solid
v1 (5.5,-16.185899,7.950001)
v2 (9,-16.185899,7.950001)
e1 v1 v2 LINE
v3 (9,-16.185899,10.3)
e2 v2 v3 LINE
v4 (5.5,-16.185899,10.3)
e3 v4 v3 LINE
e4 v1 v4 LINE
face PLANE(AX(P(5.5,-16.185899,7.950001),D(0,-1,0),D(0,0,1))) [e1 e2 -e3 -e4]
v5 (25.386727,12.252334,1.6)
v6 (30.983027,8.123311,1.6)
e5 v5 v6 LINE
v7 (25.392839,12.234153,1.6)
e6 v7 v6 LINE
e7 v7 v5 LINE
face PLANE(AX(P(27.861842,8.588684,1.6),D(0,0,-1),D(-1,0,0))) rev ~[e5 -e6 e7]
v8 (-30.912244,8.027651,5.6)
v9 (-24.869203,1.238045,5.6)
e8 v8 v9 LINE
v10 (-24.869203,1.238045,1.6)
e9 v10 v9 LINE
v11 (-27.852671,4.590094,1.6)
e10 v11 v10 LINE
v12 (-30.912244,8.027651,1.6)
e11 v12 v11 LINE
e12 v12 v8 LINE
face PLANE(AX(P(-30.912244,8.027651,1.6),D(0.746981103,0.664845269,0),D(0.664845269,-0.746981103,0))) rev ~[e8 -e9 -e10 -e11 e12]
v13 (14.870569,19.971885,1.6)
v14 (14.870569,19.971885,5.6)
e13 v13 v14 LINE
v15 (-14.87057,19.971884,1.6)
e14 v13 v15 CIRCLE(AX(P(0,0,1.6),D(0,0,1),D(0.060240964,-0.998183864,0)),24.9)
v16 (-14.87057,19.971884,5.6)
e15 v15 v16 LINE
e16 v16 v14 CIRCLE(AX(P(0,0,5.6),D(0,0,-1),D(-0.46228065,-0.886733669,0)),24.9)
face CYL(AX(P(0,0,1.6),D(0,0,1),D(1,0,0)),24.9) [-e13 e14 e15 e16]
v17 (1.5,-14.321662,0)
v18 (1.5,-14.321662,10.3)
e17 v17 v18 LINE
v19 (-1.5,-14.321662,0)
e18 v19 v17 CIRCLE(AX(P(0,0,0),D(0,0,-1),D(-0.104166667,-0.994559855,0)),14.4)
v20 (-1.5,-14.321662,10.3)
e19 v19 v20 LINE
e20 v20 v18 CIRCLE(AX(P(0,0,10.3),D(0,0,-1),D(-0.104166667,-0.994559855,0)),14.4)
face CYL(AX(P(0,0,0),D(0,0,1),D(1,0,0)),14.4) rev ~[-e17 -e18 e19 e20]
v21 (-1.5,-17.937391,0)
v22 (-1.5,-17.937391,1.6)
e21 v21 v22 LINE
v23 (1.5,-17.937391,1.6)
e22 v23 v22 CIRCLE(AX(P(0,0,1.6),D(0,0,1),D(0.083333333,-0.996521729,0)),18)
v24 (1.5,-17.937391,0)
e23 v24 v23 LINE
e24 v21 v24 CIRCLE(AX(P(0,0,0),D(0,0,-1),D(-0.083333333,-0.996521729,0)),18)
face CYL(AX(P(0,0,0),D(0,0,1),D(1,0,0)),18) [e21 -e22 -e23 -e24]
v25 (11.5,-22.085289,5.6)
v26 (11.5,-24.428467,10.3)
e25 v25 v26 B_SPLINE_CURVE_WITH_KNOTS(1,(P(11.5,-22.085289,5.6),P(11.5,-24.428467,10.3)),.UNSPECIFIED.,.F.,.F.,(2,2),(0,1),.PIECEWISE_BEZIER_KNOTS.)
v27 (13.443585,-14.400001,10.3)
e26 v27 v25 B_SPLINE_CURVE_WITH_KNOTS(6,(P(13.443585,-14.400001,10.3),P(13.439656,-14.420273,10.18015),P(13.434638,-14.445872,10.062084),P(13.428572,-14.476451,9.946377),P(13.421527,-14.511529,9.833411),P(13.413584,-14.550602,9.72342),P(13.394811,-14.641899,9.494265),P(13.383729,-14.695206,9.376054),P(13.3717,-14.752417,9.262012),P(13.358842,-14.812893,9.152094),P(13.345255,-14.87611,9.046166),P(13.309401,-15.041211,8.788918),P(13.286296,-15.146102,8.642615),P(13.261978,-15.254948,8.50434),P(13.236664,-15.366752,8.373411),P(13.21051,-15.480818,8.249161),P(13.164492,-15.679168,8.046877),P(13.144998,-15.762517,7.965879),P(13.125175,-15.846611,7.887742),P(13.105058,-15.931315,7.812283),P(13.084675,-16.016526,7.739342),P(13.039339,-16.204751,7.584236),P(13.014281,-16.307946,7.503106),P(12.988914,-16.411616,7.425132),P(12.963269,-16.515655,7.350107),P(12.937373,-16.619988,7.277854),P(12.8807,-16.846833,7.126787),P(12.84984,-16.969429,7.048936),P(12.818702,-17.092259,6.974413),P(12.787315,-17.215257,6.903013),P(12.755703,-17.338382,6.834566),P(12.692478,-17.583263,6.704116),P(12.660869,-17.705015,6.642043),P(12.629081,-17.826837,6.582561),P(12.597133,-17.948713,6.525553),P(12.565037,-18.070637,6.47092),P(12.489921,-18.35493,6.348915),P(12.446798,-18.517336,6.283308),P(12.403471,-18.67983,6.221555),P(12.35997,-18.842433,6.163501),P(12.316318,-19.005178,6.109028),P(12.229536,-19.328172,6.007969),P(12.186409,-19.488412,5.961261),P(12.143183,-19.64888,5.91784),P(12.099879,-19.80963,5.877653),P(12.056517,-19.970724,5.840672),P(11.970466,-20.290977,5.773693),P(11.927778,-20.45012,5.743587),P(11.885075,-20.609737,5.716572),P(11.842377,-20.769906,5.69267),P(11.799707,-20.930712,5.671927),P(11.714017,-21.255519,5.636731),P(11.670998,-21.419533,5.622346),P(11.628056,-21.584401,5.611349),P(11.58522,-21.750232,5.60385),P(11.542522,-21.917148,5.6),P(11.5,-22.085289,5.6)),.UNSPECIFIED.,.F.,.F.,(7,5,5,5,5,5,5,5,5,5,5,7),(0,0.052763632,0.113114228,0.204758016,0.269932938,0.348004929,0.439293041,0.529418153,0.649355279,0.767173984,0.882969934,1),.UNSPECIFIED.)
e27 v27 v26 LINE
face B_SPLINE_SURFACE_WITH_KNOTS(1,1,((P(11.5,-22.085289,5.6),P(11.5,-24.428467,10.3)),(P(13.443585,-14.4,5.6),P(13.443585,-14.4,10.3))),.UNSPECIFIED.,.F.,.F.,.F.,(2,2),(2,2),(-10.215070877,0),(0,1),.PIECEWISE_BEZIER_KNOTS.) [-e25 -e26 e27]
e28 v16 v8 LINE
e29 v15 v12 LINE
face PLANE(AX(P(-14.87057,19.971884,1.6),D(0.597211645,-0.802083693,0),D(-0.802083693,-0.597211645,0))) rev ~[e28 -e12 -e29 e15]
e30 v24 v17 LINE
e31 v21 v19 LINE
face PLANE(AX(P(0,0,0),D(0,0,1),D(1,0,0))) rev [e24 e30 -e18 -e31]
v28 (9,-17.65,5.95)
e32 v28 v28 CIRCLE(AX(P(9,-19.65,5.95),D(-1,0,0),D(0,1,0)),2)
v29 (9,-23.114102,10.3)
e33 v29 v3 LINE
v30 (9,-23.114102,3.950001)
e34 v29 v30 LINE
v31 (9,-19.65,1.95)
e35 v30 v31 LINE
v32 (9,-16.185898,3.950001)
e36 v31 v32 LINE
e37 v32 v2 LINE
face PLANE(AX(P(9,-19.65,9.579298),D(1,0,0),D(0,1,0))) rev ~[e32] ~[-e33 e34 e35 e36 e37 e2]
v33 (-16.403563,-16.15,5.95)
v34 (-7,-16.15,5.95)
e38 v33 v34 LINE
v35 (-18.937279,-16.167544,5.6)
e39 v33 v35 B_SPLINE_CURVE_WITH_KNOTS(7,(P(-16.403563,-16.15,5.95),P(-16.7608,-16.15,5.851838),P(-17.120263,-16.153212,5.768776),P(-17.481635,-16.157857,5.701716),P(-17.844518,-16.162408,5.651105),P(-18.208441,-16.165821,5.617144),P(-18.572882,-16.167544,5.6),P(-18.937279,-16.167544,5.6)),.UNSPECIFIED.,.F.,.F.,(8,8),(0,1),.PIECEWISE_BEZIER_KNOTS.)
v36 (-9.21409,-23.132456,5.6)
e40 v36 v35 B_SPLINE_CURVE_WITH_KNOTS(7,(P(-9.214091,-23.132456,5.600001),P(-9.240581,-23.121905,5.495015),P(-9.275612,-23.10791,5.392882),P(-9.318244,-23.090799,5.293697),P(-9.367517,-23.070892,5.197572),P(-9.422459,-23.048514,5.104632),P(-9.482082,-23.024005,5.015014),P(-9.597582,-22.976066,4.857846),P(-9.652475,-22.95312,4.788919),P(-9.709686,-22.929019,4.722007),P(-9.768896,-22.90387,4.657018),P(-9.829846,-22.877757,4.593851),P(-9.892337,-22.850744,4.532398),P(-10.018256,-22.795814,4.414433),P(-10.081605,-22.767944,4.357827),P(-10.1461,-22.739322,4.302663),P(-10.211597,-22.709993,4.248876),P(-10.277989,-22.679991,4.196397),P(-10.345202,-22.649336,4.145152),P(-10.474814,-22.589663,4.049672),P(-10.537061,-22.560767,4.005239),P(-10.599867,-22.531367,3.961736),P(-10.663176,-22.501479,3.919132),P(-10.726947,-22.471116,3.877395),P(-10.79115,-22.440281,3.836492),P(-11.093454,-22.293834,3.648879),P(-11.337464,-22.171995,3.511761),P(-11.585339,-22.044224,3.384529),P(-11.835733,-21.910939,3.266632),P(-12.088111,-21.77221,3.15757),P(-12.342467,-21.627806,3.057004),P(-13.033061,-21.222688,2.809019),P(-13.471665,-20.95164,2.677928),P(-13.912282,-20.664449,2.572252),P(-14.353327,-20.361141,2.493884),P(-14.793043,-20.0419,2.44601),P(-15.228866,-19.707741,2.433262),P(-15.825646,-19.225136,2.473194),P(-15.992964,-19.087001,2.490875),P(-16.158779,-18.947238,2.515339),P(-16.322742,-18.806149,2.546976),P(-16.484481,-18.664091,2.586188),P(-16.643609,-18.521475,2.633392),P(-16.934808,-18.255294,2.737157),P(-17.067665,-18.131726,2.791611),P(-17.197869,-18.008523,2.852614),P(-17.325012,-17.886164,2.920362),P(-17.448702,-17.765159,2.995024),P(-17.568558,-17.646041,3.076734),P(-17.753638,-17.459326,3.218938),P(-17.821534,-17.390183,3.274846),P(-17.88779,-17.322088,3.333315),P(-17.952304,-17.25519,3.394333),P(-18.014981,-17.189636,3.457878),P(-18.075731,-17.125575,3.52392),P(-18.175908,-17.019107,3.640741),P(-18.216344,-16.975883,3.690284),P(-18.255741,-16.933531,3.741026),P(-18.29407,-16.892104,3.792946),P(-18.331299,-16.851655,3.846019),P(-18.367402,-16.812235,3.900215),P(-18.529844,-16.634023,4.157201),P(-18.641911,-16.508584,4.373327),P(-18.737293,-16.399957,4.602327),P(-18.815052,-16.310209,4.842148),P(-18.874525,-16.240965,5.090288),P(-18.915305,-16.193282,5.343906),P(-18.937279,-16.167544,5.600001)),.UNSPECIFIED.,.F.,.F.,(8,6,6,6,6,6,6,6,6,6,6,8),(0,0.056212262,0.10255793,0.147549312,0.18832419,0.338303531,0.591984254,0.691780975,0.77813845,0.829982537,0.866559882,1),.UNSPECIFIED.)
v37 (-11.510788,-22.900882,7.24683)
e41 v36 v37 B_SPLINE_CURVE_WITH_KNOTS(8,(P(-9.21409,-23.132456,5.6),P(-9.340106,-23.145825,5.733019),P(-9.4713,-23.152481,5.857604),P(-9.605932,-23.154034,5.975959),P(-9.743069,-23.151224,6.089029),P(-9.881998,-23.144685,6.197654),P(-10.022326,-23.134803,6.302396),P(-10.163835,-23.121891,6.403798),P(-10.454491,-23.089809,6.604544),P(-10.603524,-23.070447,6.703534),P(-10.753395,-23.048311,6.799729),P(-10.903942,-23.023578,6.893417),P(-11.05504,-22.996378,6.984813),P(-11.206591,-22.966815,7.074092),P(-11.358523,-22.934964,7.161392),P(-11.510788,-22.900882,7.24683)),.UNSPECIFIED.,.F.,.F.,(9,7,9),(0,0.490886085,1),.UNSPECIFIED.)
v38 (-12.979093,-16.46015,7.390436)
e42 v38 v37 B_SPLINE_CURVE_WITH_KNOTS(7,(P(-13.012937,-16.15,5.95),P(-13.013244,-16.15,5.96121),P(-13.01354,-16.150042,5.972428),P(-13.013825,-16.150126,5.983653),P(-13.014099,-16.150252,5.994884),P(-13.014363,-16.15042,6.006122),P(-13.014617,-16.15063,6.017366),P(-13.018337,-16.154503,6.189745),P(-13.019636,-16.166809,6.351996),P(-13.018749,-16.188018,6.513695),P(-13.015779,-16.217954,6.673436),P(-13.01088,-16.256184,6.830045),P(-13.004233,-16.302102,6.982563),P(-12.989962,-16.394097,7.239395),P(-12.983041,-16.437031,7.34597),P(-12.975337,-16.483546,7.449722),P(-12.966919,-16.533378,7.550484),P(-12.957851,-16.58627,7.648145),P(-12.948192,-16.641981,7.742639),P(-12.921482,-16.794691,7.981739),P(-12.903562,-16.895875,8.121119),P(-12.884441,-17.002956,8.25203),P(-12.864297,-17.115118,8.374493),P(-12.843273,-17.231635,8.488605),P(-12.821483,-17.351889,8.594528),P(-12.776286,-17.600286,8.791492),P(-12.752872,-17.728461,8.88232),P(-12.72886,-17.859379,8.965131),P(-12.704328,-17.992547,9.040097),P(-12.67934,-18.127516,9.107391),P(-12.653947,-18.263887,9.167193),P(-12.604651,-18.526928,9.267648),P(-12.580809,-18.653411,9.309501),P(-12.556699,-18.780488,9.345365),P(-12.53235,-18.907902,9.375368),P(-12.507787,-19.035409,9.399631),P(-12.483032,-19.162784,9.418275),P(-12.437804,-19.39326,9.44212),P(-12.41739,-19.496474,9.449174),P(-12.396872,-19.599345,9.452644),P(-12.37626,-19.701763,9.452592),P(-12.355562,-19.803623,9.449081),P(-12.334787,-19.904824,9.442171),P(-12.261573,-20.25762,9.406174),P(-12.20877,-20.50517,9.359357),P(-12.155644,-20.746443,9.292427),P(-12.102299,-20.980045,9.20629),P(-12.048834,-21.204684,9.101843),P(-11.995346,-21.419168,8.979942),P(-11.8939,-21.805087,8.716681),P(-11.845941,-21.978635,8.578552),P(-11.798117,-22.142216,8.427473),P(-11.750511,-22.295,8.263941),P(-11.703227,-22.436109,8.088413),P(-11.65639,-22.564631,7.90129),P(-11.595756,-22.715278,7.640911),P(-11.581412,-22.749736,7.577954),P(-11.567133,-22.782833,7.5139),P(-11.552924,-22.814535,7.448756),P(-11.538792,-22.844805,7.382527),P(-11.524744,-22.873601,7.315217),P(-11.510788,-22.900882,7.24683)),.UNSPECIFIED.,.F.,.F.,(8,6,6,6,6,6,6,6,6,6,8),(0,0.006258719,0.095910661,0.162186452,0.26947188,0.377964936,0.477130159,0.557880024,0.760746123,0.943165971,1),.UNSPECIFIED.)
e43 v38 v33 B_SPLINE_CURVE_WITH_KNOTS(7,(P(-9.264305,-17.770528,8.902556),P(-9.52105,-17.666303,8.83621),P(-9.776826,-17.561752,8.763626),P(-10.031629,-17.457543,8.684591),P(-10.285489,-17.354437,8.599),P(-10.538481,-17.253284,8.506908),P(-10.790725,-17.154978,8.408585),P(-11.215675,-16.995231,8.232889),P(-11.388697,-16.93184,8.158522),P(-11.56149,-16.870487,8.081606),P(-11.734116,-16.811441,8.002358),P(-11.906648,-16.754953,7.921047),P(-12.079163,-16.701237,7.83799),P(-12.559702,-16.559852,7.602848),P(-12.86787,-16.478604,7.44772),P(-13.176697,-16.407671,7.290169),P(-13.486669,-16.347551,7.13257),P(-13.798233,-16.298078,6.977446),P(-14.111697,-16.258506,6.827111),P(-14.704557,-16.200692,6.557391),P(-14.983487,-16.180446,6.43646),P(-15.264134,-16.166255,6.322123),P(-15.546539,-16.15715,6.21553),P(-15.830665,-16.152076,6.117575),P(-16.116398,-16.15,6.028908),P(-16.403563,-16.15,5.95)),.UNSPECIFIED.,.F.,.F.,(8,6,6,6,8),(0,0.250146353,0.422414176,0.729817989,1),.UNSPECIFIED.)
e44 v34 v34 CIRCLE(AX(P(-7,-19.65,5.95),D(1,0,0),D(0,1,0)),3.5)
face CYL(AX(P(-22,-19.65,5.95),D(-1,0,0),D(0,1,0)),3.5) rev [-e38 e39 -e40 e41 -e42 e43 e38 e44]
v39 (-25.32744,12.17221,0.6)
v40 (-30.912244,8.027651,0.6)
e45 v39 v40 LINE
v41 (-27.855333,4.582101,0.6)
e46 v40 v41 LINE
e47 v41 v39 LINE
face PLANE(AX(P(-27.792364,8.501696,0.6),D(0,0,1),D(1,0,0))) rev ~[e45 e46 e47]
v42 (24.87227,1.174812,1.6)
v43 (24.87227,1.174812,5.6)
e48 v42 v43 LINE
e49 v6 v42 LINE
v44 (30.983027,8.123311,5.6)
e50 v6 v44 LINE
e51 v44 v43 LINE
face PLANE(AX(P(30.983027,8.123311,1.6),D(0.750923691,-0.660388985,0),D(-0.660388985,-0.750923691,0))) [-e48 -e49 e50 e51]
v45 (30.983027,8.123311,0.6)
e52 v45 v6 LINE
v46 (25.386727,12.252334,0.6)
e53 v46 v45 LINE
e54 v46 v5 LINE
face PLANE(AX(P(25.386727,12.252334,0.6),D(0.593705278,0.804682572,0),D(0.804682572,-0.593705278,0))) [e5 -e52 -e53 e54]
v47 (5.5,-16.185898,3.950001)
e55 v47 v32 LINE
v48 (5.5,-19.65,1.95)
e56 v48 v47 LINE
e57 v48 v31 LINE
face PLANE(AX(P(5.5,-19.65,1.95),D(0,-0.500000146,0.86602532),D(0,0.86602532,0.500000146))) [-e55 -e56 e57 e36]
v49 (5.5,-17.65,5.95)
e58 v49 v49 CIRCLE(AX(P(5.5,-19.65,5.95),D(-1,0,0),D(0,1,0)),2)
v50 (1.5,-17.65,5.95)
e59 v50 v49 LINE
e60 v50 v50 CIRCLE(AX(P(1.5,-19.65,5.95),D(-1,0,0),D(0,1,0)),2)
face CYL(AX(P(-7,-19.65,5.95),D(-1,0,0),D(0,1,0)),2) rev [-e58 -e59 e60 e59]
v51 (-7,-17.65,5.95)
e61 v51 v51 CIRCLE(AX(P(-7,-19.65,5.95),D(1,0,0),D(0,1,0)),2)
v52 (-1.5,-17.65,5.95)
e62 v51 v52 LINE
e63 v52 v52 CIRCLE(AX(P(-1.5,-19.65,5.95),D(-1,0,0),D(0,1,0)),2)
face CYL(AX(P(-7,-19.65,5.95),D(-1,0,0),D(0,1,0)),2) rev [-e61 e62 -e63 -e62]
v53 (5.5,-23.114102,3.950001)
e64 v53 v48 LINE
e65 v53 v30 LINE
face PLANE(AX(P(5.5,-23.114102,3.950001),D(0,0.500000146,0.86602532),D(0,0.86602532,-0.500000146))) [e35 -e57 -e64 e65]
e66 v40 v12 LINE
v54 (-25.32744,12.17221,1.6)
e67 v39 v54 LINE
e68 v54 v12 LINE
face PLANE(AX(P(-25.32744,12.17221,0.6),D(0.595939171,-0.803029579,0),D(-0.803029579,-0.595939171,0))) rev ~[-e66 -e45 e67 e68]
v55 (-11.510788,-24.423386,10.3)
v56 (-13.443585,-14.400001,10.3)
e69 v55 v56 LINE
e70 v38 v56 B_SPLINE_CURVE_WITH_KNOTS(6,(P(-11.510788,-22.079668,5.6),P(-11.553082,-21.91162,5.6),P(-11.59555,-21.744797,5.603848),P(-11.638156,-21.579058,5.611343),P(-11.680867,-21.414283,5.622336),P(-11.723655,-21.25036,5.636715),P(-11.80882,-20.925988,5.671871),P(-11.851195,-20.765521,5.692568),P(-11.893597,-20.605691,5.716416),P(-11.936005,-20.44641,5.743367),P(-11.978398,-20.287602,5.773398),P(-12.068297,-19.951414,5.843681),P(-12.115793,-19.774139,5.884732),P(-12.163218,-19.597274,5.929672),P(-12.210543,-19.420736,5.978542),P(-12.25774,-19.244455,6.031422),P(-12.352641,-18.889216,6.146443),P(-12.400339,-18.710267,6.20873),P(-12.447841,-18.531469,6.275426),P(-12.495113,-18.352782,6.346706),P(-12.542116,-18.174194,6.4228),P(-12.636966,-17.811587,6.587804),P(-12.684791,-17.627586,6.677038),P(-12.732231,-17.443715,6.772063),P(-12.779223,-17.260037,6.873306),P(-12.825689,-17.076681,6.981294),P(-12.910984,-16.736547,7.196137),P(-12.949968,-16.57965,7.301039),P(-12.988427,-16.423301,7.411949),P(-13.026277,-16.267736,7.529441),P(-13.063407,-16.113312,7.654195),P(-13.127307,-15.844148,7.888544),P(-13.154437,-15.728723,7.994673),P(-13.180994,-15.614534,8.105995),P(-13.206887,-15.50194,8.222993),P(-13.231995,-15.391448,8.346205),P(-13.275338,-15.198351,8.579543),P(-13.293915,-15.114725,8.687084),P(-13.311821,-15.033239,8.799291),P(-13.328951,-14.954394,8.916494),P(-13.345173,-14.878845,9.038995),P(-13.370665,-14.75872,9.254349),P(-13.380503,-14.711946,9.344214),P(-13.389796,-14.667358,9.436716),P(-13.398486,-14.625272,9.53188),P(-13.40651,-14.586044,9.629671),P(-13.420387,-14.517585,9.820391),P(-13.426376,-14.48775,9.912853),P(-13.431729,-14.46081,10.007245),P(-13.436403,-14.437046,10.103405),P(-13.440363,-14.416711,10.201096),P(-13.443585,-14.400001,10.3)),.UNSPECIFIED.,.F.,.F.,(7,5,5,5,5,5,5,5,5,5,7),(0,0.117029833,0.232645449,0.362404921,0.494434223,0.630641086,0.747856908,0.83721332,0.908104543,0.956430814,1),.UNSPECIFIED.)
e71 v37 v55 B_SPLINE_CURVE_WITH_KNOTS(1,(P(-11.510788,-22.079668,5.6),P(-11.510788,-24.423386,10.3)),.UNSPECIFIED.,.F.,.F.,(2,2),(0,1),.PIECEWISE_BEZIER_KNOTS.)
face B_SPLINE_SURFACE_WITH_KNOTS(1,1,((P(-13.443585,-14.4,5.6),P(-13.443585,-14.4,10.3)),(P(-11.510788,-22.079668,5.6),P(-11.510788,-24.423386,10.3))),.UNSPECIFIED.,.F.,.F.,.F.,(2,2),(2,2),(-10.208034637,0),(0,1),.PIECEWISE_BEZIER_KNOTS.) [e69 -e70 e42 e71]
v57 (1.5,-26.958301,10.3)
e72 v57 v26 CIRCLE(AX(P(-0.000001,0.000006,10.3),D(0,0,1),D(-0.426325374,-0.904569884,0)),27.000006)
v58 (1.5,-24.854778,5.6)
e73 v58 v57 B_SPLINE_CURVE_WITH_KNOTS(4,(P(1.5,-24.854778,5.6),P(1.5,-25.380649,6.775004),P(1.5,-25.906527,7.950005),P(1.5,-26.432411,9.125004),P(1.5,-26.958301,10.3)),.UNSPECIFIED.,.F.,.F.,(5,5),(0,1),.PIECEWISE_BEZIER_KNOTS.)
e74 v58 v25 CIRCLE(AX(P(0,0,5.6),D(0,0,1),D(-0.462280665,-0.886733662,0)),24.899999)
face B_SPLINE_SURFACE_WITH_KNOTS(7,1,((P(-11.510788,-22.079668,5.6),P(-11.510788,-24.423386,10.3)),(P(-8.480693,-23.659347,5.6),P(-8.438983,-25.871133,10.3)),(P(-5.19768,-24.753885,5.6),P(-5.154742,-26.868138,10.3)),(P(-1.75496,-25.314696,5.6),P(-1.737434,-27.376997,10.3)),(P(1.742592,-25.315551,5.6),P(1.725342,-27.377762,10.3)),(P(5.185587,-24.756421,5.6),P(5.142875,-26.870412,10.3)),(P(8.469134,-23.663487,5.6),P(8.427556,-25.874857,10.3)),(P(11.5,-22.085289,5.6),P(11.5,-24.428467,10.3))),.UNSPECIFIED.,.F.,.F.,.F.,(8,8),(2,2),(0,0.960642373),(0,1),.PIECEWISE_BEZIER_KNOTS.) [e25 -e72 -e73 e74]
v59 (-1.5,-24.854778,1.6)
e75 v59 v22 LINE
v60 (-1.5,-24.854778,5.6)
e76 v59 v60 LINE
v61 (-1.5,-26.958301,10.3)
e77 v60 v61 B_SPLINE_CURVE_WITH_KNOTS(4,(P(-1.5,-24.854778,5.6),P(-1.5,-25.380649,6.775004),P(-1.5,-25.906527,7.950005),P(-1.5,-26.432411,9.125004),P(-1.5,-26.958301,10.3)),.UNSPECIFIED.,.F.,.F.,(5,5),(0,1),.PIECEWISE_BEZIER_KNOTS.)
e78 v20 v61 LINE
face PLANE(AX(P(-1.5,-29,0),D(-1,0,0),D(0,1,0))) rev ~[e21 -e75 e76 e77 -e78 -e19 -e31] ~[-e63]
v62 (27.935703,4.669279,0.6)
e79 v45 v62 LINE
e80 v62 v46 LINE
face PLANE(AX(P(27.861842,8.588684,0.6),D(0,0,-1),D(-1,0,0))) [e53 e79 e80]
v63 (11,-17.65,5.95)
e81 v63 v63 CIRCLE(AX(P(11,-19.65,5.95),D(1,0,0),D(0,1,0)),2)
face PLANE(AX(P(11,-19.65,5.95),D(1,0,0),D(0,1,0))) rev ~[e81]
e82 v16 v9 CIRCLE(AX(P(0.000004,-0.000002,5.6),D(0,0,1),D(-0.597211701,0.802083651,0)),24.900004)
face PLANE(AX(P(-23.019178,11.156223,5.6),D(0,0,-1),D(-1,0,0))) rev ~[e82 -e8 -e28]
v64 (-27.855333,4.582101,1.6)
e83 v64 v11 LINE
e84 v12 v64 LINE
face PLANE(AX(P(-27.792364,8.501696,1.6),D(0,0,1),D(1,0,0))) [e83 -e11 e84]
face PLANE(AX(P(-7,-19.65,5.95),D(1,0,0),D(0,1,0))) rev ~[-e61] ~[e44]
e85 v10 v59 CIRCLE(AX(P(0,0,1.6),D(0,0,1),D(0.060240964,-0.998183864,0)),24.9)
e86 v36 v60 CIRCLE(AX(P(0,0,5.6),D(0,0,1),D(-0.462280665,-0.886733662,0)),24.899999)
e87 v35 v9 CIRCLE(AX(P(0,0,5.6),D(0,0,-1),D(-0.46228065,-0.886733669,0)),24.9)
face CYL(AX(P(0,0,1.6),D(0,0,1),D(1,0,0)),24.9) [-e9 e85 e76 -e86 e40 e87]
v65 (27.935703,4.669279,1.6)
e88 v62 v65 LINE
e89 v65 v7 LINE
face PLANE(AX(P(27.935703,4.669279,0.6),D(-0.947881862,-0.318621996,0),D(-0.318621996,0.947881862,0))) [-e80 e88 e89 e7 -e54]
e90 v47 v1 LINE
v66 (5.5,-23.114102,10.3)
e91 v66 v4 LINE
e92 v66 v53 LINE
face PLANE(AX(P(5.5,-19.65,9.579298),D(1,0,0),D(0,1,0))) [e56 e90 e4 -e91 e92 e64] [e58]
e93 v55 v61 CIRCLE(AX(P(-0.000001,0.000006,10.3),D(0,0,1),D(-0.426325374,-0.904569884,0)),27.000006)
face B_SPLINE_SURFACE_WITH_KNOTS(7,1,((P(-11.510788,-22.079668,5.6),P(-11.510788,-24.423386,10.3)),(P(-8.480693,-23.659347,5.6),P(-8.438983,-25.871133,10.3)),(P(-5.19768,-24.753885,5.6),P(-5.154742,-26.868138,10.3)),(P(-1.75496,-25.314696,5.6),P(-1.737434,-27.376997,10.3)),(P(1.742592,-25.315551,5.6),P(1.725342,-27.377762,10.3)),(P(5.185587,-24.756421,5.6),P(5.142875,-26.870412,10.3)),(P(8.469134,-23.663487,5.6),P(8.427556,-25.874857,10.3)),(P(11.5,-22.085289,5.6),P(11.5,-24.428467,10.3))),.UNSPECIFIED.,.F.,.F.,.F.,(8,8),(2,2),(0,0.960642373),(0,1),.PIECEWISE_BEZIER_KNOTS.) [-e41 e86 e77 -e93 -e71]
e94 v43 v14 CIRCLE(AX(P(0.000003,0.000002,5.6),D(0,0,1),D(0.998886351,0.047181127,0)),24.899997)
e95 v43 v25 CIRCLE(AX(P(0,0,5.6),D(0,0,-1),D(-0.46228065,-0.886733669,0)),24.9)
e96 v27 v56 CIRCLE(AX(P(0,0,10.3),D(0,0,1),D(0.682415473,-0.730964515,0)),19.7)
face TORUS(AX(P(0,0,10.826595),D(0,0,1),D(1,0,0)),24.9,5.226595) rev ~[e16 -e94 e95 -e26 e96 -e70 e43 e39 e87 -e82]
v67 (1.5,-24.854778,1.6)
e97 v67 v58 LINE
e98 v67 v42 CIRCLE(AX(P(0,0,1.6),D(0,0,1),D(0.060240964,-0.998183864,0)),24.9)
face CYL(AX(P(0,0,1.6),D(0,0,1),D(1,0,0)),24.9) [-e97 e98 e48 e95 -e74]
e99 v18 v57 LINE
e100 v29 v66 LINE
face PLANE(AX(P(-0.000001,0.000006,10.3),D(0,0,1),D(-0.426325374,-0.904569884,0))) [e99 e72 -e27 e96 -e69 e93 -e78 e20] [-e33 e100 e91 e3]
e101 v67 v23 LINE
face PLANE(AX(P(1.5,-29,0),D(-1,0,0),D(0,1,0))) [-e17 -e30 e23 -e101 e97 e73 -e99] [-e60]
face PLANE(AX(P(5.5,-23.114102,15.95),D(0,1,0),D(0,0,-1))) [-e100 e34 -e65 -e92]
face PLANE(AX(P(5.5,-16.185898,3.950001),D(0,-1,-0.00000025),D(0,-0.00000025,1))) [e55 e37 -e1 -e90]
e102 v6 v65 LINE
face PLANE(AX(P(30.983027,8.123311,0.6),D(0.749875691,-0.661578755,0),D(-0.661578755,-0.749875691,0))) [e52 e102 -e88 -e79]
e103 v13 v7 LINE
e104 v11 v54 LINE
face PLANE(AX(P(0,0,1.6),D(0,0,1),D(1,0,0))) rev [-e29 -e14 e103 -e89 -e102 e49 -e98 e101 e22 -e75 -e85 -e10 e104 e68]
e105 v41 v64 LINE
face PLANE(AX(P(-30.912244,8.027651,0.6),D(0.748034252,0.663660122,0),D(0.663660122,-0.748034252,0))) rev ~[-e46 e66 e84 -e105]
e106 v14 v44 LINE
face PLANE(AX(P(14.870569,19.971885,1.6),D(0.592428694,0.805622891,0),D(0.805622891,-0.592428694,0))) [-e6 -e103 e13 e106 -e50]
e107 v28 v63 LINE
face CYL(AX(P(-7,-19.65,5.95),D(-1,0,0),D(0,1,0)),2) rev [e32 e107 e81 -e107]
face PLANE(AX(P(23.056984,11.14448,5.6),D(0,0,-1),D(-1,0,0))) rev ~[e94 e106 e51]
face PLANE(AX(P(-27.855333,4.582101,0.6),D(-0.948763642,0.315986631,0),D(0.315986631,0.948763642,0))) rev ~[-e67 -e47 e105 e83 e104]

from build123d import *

# Parameters (mm, degrees)
SKETCH003_W     = 3
SKETCH003_H     = 17
POCKET_DEPTH    = 11
SKETCH004_R     = 3.5
POCKET001_DEPTH = 15
SKETCH005_R     = 2
POCKET002_DEPTH = 18
POCKET003_DEPTH = 3.5
PAD_DEPTH       = 4
PAD001_DEPTH    = 1


with BuildPart() as part:
    # Sketch → Revolution (revolve)
    with BuildSketch(Plane.XZ):
        with BuildLine():
            Line((14.4, 0), (14.4, 10.3))
            Line((14.4, 10.3), (19.7, 10.3))
            ThreePointArc((19.7, 10.3), (21.39536, 6.949122), (24.9, 5.6))
            Line((24.9, 1.6), (24.9, 5.6))
            Line((18, 1.6), (24.9, 1.6))
            Line((18, 0), (18, 1.6))
            Line((14.4, 0), (18, 0))
        make_face()
    revolve(axis=Axis((0, 0, 0), (0, 0, 1)))

    # Sketch002 → AdditiveLoft section 0
    with BuildSketch(Plane.XY.offset(5.6)):
        with BuildLine():
            ThreePointArc((-11.510788, -22.079668), (-0.006082, -24.899999), (11.5, -22.085289))
            Line((13.443585, -14.4), (11.5, -22.085289))
            Line((-13.443585, -14.4), (13.443585, -14.4))
            Line((-11.510788, -22.079668), (-13.443585, -14.4))
        make_face()
    # Sketch001 → AdditiveLoft section 1
    with BuildSketch(Plane.XY.offset(10.3)):
        with BuildLine():
            ThreePointArc((-11.510788, -24.423386), (-0.005962, -26.999999), (11.5, -24.428467))
            Line((13.443585, -14.4), (11.5, -24.428467))
            Line((-13.443585, -14.4), (13.443585, -14.4))
            Line((-11.510788, -24.423386), (-13.443585, -14.4))
        make_face()
    loft()

    # Sketch003 → Pocket (cut)
    with BuildSketch(Plane.XY):
        with Locations((0, -20.5)):
            Rectangle(SKETCH003_W, SKETCH003_H)
    extrude(amount=POCKET_DEPTH, mode=Mode.SUBTRACT)

    # Sketch004 → Pocket001 (cut)
    with BuildSketch(Plane.YZ.offset(-22)):
        with Locations((-19.65, 5.95)):
            Circle(SKETCH004_R)
    extrude(amount=POCKET001_DEPTH, mode=Mode.SUBTRACT)

    # Sketch005 → Pocket002 (cut)
    with BuildSketch(Plane.YZ.offset(-7)):
        with Locations((-19.65, 5.95)):
            Circle(SKETCH005_R)
    extrude(amount=POCKET002_DEPTH, mode=Mode.SUBTRACT)

    # Sketch006 → Pocket003 (cut)
    with BuildSketch(Plane.YZ.offset(5.5)):
        Polygon((-16.185898, 3.950001), (-16.185899, 7.950001), (-16.185899, 15.950001), (-23.114102, 15.95), (-23.114102, 3.950001), (-19.65, 1.95), align=None)
    extrude(amount=POCKET003_DEPTH, mode=Mode.SUBTRACT)

    # Sketch007 → Pad (join)
    with BuildSketch(Plane.XY.offset(1.6)):
        with BuildLine():
            ThreePointArc((-14.87057, 19.971884), (-21.967056, 11.724267), (-24.869203, 1.238045))
            Line((-30.912244, 8.027651), (-24.869203, 1.238045))
            Line((-14.87057, 19.971884), (-30.912244, 8.027651))
        make_face()
        with BuildLine():
            Line((14.870569, 19.971885), (30.983027, 8.123311))
            Line((30.983027, 8.123311), (24.87227, 1.174812))
            ThreePointArc((24.87227, 1.174812), (21.981943, 11.696333), (14.870569, 19.971885))
        make_face()
    extrude(amount=PAD_DEPTH)

    # Sketch008 → Pad001 (join)
    with BuildSketch(Plane.XY.offset(0.6)):
        Polygon((25.386727, 12.252334), (30.983027, 8.123311), (27.935703, 4.669279), align=None)
        Polygon((-25.32744, 12.17221), (-30.912244, 8.027651), (-27.855333, 4.582101), align=None)
    extrude(amount=PAD001_DEPTH)


solid = part.part
